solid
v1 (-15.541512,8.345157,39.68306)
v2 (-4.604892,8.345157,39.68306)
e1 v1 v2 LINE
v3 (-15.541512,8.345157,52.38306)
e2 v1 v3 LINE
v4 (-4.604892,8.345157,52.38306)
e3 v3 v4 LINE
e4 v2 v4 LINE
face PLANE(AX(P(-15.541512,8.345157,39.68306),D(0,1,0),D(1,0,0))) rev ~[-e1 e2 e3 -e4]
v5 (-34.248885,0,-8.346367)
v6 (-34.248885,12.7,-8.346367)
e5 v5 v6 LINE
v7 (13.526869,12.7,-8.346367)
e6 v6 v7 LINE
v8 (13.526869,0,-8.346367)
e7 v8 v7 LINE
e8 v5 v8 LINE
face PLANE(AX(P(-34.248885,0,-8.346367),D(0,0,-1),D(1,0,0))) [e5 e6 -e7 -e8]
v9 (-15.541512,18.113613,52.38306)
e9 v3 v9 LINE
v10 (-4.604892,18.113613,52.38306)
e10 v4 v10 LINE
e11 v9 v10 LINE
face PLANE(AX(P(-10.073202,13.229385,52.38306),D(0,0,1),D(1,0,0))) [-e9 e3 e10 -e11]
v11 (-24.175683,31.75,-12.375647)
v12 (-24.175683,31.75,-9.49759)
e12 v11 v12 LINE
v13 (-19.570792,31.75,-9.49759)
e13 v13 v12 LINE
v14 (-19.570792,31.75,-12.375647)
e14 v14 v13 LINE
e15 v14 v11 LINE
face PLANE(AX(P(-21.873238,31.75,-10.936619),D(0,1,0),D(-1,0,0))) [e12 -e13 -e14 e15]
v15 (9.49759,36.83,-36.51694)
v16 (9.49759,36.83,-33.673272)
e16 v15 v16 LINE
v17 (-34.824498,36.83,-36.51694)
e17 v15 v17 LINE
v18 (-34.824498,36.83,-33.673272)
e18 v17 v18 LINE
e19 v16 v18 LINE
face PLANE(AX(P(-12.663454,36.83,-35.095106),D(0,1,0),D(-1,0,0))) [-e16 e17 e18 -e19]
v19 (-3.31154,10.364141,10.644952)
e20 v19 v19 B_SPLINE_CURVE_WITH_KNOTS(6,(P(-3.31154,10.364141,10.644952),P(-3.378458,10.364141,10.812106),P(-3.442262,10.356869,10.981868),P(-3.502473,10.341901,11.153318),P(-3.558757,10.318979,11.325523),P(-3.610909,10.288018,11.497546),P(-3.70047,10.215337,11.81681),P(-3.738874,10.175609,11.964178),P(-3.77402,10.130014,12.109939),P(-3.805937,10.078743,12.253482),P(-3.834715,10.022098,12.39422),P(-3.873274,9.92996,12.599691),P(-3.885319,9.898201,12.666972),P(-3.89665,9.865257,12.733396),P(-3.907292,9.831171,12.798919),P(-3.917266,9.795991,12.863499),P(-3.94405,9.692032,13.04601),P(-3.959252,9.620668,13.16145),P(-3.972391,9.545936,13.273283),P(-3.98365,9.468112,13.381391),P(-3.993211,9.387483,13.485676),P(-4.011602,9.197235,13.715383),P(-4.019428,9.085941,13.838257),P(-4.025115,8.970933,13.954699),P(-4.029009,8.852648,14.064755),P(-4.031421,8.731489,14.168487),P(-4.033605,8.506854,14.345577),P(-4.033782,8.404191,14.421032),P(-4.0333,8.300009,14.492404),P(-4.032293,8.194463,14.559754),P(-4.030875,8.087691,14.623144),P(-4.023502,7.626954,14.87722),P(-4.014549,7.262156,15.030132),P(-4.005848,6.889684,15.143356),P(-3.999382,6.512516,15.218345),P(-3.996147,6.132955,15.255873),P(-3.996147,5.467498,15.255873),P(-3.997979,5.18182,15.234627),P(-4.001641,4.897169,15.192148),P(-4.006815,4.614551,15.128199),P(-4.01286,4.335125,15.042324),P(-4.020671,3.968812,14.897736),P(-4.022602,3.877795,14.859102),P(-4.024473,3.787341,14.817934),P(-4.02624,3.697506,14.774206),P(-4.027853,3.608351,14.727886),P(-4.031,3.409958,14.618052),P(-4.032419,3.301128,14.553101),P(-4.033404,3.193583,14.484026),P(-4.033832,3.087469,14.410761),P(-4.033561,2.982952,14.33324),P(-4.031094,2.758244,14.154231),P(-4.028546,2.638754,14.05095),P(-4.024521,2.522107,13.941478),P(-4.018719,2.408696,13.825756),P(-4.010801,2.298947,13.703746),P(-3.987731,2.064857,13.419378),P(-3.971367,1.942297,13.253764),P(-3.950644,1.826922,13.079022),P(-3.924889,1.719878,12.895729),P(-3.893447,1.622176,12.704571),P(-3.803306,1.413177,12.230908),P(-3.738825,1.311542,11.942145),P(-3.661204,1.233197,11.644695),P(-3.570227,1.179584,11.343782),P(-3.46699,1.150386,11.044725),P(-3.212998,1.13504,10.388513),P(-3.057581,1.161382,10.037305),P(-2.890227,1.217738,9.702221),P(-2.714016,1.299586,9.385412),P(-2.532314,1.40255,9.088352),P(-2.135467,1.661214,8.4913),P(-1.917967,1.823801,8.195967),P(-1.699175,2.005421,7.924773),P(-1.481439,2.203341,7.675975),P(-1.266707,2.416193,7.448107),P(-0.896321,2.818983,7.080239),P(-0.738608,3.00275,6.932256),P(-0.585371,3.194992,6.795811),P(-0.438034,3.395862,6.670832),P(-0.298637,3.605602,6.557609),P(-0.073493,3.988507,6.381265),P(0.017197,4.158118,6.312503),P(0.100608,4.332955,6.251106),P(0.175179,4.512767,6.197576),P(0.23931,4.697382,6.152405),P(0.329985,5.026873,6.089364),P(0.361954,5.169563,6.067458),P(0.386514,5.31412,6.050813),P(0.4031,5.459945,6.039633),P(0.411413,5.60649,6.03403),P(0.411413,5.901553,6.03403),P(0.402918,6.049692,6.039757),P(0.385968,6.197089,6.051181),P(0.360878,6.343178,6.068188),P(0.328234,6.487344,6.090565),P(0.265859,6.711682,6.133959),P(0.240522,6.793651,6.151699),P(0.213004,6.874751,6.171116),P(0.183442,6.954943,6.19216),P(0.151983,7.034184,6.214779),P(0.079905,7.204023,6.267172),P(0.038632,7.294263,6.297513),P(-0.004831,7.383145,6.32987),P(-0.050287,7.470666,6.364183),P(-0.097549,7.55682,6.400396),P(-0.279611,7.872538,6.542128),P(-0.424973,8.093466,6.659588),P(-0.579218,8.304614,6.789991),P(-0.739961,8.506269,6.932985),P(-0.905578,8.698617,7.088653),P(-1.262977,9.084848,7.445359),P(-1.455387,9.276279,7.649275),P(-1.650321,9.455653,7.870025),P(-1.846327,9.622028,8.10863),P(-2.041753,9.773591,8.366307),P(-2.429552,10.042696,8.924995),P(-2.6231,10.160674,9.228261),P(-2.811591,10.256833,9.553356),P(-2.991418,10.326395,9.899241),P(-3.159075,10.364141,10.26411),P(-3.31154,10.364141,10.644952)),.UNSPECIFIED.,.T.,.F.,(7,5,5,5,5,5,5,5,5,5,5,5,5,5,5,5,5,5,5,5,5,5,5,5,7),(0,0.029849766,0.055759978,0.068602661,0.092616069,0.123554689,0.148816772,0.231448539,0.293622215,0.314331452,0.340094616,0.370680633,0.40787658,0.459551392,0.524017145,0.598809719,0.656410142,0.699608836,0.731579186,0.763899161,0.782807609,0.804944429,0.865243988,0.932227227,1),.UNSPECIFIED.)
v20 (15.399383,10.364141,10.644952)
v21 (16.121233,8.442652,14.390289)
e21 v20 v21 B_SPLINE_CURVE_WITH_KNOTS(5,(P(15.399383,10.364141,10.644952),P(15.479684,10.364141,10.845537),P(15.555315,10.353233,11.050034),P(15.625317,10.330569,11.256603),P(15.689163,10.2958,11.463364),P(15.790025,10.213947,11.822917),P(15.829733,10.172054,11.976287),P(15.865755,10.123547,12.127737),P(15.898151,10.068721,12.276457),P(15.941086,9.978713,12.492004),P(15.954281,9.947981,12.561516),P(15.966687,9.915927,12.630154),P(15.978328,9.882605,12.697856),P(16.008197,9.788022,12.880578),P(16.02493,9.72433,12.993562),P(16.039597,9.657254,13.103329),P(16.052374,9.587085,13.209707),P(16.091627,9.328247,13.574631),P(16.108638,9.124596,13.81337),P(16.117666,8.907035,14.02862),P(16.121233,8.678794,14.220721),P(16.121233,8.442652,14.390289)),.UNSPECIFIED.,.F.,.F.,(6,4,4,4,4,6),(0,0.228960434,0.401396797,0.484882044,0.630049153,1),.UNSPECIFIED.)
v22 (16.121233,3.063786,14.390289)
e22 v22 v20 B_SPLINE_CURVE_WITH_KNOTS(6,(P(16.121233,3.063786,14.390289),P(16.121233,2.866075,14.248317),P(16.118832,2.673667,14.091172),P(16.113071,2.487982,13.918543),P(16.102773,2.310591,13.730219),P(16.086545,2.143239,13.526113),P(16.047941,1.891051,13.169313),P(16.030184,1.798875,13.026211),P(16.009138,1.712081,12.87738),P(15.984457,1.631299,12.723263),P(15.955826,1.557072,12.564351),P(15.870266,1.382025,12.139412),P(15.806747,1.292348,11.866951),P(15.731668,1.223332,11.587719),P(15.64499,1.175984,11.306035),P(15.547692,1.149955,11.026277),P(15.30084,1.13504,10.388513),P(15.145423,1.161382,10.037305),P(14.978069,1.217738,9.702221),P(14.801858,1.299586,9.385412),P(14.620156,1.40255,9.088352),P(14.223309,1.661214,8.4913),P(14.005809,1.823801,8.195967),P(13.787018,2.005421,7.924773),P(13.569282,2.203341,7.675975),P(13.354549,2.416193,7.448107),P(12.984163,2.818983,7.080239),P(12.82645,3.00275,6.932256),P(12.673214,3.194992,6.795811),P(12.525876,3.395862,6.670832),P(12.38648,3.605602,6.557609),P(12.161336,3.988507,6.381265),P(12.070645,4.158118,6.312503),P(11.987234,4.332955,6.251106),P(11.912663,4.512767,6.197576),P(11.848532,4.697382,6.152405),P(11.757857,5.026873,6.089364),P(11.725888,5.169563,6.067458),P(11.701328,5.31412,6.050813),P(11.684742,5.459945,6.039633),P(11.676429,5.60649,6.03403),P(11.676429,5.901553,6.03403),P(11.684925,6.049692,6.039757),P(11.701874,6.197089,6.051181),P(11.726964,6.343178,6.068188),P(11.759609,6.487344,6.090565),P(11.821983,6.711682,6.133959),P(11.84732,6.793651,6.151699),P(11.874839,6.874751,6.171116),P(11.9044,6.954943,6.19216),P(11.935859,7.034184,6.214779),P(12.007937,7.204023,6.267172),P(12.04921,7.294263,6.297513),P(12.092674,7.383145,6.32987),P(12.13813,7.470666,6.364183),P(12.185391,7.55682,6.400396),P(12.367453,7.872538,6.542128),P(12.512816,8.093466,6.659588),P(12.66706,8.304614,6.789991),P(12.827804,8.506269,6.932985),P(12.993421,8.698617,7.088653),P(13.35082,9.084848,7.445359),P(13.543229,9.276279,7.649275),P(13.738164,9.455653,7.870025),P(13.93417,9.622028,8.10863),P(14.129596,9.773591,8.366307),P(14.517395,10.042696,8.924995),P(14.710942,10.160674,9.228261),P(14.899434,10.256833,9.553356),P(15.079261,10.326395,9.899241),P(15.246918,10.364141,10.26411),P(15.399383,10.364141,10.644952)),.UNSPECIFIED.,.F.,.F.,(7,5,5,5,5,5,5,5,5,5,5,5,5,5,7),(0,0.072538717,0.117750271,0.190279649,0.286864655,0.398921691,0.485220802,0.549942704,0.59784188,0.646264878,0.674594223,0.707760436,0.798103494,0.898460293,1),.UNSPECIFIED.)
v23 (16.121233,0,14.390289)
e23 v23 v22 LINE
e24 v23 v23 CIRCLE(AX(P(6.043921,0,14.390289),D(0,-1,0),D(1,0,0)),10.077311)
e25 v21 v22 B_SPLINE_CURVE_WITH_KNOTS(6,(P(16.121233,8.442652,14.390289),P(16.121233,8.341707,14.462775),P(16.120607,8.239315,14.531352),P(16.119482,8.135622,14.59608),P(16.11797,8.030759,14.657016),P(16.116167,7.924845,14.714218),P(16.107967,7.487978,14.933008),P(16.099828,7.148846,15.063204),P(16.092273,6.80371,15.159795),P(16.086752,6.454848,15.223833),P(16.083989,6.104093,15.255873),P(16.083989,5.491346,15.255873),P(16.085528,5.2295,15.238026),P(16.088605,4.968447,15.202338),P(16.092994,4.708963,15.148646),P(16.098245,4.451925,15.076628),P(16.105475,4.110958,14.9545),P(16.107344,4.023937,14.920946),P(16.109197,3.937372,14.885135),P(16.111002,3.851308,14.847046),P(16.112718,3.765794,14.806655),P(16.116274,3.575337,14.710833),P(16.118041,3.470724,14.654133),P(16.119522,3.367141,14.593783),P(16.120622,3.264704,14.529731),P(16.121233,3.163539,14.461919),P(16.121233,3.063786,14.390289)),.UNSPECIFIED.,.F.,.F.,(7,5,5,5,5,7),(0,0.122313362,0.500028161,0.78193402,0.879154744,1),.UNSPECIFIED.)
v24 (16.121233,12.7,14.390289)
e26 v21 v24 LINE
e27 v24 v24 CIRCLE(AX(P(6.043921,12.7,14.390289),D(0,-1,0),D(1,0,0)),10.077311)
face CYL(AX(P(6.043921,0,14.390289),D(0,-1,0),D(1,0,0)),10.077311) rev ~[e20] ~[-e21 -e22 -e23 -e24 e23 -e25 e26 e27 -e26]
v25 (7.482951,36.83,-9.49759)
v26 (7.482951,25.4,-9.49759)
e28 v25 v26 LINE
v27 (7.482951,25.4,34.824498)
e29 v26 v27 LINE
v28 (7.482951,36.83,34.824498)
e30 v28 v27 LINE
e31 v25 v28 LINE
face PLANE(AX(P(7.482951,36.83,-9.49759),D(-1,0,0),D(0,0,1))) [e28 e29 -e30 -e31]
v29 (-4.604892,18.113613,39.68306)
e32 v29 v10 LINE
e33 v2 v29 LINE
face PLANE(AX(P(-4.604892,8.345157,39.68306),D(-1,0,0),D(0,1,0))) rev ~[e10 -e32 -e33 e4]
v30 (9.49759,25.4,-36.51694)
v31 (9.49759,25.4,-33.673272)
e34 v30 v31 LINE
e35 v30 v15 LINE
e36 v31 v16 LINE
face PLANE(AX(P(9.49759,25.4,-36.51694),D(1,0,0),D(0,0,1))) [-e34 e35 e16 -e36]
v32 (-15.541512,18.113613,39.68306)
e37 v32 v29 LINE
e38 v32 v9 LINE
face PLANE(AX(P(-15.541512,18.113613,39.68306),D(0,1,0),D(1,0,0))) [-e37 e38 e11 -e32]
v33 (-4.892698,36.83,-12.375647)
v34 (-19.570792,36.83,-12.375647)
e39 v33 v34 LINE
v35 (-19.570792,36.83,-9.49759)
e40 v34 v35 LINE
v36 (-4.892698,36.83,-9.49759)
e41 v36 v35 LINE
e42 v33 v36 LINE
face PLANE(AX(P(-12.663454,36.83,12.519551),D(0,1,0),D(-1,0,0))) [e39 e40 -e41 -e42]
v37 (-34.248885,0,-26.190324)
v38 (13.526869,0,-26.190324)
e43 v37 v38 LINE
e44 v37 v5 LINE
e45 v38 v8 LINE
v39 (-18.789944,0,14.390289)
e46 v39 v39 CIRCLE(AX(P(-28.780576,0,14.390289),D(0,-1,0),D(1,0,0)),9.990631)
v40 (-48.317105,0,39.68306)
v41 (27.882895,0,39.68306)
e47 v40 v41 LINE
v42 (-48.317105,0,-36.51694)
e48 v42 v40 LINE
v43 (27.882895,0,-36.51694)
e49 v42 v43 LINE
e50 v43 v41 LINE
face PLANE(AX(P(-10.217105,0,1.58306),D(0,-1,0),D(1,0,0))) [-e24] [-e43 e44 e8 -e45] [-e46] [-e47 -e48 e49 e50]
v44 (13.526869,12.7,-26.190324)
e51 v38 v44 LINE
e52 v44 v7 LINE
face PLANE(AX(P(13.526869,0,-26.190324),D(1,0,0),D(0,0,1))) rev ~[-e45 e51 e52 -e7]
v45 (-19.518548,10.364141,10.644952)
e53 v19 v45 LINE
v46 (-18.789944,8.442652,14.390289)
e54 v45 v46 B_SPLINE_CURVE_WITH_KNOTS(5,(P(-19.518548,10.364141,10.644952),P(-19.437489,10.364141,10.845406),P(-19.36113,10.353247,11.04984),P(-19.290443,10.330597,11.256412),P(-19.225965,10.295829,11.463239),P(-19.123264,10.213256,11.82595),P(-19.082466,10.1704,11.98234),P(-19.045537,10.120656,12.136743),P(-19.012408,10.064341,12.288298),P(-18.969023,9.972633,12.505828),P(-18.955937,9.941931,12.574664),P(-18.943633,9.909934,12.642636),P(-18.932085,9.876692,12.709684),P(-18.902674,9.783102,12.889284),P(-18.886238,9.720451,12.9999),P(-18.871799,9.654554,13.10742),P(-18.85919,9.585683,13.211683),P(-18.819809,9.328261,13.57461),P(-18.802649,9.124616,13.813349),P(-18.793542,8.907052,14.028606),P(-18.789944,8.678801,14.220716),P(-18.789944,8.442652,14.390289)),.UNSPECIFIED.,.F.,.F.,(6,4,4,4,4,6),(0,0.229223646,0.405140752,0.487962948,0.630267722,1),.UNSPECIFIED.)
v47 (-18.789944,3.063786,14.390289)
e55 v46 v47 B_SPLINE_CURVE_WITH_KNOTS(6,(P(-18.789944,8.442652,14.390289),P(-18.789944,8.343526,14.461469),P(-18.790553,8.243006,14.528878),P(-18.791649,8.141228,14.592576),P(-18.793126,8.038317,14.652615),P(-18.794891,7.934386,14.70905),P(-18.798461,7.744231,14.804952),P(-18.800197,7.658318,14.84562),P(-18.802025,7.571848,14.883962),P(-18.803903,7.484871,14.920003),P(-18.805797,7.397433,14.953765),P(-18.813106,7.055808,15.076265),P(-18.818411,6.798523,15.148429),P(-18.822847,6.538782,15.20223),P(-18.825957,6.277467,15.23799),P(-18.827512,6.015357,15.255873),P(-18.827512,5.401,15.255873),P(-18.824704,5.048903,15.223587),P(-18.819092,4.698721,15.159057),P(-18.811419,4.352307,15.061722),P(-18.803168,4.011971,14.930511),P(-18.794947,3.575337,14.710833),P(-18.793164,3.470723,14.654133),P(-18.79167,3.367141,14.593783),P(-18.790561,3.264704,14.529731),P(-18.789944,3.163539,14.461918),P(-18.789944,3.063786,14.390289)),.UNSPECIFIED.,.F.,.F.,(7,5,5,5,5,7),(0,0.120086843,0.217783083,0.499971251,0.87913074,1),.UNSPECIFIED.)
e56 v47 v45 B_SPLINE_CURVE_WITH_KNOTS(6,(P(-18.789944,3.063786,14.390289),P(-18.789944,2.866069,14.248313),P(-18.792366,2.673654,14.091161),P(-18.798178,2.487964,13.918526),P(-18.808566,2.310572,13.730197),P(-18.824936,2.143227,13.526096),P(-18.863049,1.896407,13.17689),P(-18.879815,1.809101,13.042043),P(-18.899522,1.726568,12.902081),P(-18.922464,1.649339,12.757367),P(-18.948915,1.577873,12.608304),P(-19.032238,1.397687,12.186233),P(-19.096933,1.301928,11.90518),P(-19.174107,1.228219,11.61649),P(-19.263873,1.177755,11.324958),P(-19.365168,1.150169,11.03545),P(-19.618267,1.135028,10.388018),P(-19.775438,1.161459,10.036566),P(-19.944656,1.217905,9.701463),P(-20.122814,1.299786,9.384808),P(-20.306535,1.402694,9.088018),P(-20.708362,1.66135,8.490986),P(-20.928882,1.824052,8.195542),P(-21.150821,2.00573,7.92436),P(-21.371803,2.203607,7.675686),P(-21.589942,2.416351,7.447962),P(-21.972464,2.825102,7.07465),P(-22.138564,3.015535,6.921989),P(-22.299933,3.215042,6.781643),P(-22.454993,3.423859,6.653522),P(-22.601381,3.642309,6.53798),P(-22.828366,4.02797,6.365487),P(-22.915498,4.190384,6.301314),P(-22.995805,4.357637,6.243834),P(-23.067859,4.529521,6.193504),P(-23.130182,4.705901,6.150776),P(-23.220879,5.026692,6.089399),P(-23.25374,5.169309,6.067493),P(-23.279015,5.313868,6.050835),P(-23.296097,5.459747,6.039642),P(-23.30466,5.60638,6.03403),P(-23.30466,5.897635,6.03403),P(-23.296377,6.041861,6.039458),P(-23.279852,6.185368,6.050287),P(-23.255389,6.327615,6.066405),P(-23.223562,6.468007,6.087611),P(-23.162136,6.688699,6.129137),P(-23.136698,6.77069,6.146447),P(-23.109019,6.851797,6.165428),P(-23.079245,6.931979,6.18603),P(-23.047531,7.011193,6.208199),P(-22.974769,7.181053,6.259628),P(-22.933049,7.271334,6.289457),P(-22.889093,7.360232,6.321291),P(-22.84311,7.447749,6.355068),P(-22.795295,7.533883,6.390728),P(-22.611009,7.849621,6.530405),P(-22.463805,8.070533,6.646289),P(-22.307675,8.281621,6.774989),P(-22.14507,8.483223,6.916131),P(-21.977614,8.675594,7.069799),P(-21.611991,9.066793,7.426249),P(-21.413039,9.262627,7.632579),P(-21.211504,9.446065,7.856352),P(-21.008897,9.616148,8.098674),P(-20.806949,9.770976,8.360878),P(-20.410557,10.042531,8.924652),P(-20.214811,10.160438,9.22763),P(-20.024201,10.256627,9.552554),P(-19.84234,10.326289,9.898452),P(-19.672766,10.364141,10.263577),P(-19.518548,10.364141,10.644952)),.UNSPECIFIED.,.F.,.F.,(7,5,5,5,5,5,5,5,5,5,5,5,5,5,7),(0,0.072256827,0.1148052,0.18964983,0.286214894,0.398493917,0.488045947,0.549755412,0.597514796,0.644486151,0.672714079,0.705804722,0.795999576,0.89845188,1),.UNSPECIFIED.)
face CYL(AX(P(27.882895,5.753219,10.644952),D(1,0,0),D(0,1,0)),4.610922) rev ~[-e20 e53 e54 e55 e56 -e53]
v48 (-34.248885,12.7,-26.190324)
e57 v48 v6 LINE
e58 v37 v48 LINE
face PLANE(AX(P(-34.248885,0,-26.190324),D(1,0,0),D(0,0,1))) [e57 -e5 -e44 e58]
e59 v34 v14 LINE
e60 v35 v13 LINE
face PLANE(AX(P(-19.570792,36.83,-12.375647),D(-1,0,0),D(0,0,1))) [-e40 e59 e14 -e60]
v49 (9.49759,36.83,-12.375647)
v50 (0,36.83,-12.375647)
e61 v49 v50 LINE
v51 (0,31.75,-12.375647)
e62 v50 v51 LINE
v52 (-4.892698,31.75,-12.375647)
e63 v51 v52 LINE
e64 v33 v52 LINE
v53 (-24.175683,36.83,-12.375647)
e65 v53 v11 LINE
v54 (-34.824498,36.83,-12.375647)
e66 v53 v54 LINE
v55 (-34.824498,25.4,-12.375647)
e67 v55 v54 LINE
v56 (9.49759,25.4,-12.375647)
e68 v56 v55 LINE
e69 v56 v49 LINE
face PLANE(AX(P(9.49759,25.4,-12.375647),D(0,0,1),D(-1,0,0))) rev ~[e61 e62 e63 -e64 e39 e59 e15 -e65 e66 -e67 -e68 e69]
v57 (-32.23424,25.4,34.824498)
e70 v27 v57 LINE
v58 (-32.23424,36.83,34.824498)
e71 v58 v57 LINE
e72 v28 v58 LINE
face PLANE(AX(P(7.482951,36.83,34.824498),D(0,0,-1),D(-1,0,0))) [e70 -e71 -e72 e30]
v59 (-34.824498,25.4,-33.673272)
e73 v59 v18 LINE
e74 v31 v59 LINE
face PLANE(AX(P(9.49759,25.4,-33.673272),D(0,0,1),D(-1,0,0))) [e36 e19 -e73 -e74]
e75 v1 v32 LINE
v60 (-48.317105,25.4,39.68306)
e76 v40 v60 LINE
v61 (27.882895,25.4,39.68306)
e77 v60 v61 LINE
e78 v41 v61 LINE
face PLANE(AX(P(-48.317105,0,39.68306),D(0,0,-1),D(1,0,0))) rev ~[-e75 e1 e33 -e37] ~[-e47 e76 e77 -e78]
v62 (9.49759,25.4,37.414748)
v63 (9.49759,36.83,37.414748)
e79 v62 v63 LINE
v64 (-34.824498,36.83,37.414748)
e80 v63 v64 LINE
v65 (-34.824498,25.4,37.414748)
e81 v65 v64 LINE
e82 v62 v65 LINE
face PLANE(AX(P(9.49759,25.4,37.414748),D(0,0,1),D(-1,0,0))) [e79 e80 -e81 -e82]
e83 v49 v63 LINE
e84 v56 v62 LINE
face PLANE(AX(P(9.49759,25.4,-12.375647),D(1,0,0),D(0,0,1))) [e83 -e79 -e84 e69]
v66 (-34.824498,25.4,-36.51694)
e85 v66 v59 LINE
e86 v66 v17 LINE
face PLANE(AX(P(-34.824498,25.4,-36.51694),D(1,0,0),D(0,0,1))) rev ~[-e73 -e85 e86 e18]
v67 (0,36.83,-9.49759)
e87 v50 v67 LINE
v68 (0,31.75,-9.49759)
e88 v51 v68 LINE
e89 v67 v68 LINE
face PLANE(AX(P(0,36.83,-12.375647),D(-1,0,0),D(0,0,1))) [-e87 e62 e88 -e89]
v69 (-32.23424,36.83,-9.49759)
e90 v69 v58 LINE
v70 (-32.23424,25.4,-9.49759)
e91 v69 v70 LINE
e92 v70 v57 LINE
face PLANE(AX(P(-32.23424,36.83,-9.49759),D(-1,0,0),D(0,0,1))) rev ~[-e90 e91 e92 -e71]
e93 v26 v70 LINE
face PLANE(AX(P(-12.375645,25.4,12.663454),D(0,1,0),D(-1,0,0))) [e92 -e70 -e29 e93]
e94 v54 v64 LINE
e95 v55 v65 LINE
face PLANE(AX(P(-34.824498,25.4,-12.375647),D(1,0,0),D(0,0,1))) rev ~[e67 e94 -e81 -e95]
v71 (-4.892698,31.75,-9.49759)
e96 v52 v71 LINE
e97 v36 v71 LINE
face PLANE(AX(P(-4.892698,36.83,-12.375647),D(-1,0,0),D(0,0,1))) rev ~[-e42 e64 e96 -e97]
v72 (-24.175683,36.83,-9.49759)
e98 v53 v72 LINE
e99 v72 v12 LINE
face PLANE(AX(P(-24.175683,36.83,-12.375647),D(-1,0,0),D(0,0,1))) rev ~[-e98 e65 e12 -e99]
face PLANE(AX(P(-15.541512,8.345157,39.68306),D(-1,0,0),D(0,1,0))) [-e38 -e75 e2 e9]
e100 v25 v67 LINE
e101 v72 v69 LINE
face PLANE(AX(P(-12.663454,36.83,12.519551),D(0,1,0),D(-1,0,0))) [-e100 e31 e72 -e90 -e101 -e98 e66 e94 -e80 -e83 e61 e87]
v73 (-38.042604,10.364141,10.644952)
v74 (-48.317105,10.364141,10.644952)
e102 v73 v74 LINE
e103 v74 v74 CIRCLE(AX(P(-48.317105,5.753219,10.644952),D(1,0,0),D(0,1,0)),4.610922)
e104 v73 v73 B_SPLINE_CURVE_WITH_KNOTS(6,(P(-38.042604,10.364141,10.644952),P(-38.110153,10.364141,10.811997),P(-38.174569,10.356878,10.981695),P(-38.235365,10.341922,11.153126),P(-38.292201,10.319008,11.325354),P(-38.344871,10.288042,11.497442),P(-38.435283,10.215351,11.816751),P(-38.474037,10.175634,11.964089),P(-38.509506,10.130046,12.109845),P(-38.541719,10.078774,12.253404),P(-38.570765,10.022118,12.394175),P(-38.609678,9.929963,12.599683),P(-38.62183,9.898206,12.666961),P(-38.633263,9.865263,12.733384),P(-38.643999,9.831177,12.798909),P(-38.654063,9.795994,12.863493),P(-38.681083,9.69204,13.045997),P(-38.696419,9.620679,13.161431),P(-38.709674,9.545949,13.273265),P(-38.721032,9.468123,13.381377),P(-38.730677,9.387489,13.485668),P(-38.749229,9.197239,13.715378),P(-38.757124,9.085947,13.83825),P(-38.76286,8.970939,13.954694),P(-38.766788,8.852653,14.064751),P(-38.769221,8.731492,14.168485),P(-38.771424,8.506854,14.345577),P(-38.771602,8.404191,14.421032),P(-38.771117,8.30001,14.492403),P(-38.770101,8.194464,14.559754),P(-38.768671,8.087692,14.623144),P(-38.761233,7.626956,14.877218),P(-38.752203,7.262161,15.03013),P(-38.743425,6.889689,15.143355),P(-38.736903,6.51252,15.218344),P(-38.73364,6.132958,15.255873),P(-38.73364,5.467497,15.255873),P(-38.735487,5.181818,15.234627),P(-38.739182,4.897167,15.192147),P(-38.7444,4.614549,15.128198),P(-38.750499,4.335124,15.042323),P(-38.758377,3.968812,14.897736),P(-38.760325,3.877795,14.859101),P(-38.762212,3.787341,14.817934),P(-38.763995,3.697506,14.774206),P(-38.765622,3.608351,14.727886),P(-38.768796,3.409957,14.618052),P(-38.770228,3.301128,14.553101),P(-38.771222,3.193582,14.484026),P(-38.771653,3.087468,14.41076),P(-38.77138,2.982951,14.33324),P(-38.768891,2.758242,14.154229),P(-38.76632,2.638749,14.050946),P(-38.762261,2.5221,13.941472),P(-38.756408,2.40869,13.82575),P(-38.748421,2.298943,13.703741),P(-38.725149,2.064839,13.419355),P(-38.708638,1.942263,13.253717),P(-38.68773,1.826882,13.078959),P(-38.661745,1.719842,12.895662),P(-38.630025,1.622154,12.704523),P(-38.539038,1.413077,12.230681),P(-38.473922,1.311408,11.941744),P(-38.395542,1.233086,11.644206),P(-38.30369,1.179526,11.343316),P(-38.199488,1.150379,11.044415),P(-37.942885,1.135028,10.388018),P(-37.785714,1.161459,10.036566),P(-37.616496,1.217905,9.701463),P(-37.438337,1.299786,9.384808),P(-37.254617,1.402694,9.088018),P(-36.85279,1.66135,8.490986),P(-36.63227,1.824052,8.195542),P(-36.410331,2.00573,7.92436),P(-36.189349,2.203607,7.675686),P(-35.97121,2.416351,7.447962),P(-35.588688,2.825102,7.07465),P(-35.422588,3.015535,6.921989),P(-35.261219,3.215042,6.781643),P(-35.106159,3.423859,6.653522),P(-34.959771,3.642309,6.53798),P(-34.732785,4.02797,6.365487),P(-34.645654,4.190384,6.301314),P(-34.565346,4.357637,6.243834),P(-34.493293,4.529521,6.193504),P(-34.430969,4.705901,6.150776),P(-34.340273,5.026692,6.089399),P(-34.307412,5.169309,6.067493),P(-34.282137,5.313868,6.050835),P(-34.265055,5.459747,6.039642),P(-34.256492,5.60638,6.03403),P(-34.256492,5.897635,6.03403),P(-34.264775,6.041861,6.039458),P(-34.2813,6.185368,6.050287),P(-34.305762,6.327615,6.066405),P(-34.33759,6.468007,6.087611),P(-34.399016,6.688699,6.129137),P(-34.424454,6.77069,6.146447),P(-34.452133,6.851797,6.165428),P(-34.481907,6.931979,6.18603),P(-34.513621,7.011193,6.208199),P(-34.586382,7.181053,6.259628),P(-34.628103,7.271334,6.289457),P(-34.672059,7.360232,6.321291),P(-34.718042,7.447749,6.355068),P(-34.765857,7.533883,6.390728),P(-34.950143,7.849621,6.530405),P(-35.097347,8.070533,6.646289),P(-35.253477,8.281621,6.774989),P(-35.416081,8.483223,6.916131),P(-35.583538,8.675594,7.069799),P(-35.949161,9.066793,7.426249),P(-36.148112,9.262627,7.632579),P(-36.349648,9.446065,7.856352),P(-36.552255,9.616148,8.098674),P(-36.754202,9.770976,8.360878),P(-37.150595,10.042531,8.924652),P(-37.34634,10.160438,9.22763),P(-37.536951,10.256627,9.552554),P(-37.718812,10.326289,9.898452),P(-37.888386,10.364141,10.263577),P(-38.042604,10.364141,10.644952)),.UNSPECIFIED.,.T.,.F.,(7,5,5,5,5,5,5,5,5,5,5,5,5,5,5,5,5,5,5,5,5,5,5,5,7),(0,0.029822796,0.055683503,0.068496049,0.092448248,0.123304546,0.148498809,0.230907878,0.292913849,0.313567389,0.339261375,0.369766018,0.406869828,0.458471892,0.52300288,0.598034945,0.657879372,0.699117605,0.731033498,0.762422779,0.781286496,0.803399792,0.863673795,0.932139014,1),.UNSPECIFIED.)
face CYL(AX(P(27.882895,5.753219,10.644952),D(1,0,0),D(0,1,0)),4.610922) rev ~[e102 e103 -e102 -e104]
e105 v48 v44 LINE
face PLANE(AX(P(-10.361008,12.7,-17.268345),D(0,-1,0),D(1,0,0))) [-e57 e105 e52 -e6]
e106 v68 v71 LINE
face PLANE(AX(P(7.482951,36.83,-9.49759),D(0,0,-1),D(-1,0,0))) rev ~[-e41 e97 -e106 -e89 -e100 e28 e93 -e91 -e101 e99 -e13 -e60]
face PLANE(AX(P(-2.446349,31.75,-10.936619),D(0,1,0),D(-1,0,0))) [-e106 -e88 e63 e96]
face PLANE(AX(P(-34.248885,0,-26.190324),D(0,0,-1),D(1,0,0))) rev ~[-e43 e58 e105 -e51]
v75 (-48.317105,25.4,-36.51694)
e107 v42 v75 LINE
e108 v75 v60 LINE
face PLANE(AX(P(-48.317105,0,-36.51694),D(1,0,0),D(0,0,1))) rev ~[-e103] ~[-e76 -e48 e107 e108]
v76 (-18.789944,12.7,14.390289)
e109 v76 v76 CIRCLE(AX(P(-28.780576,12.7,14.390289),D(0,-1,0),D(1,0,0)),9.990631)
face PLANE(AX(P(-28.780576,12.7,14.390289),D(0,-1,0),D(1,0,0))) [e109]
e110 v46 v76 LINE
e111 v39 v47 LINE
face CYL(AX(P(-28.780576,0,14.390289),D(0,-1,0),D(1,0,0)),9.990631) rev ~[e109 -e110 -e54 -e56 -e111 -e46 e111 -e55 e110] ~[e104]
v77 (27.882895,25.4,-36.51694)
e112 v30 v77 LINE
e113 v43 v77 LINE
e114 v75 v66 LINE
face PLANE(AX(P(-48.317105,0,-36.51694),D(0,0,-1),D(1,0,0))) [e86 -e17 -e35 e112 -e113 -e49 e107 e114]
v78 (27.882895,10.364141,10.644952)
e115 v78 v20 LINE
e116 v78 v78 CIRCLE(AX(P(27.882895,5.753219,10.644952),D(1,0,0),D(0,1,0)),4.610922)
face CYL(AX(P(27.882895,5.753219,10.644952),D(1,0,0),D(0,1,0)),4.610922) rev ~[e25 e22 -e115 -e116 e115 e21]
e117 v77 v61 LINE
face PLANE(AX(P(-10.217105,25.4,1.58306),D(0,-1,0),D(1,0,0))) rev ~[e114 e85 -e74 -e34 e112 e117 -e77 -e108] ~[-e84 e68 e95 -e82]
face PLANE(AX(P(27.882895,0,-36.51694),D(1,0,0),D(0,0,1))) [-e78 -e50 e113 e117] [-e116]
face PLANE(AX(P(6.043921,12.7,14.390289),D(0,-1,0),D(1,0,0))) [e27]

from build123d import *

# Parameters (mm, degrees)
F0_W      = 76.2
F0_H      = 76.2
F1_DEPTH  = 25.4
F2_R      = 9.9906314399
F2_R_2    = 10.0773114698
F3_DEPTH  = 12.7
F4_W      = 47.7757537737
F4_H      = 17.8439570591
F5_DEPTH  = 12.7
F6_R      = 4.6109216101
F7_DEPTH  = 127
F8_W      = 44.3220883608
F8_H      = 49.7903954238
F9_DEPTH  = 11.43
F10_W     = 39.717190899
F10_H     = 44.3220883608
F11_DEPTH = 11.43
F12_W     = 44.3220883608
F12_H     = 2.8436683783
F13_DEPTH = 11.43
F14_W     = 4.6048909426
F14_H     = 2.8780568391
F14_W_2   = 4.8926984891
F15_DEPTH = 5.08
F16_W     = 10.9366197139
F16_H     = 9.7684562206
F17_DEPTH = 12.7


with BuildPart() as f1:
    # F0 (on Front) → F1 (new body)
    with BuildSketch(Plane.XZ):
        with Locations((-10.2171050385, 1.5830600848)):
            Rectangle(F0_W, F0_H)
    extrude(amount=-F1_DEPTH)

    # F2 (on face) → F3 (cut)
    with BuildSketch(Plane.XZ):
        with Locations((-28.7805758417, 14.3902888522)):
            Circle(F2_R)
        with Locations((6.0439212248, 14.3902888522)):
            Circle(F2_R_2)
    extrude(amount=-F3_DEPTH, mode=Mode.SUBTRACT)

    # F4 (on face) → F5 (cut)
    with BuildSketch(Plane.XZ):
        with Locations((-10.3610078804, -17.2683452256)):
            Rectangle(F4_W, F4_H)
    extrude(amount=-F5_DEPTH, mode=Mode.SUBTRACT)

    # F6 (on face) → F7 (cut)
    with BuildSketch(Plane.YZ.offset(27.8828949615)):
        with Locations((5.7532191277, 10.6449518353)):
            Circle(F6_R)
    extrude(amount=-F7_DEPTH, mode=Mode.SUBTRACT)

    # F8 (on face) → F9 (join)
    with BuildSketch(Plane(origin=(0, 25.4, 0), x_dir=(-1, 0, 0), z_dir=(0, 1, 0))):
        with Locations((12.6634538174, 12.5195505098)):
            Rectangle(F8_W, F8_H)
    extrude(amount=F9_DEPTH)

    # F10 (on face) → F11 (cut)
    with BuildSketch(Plane(origin=(0, 36.83, 0), x_dir=(-1, 0, 0), z_dir=(0, 1, 0))):
        with Locations((12.3756448738, 12.6634538174)):
            Rectangle(F10_W, F10_H)
    extrude(amount=-F11_DEPTH, mode=Mode.SUBTRACT)

    # F12 (on face) → F13 (join)
    with BuildSketch(Plane(origin=(0, 25.4, 0), x_dir=(-1, 0, 0), z_dir=(0, 1, 0))):
        with Locations((12.6634538174, -35.095105726)):
            Rectangle(F12_W, F12_H)
    extrude(amount=F13_DEPTH)

    # F14 (on face) → F15 (cut)
    with BuildSketch(Plane(origin=(0, 36.83, 0), x_dir=(-1, 0, 0), z_dir=(0, 1, 0))):
        with Locations((21.8732375652, -10.9366187826)):
            Rectangle(F14_W, F14_H)
        with Locations((2.4463492446, -10.9366187826)):
            Rectangle(F14_W_2, F14_H)
    extrude(amount=-F15_DEPTH, mode=Mode.SUBTRACT)

    # F16 (on face) → F17 (join)
    with BuildSketch(Plane.XY.offset(39.6830600848)):
        with Locations((-10.0732017308, 13.2293850183)):
            Rectangle(F16_W, F16_H)
    extrude(amount=F17_DEPTH)


solid = f1.part
